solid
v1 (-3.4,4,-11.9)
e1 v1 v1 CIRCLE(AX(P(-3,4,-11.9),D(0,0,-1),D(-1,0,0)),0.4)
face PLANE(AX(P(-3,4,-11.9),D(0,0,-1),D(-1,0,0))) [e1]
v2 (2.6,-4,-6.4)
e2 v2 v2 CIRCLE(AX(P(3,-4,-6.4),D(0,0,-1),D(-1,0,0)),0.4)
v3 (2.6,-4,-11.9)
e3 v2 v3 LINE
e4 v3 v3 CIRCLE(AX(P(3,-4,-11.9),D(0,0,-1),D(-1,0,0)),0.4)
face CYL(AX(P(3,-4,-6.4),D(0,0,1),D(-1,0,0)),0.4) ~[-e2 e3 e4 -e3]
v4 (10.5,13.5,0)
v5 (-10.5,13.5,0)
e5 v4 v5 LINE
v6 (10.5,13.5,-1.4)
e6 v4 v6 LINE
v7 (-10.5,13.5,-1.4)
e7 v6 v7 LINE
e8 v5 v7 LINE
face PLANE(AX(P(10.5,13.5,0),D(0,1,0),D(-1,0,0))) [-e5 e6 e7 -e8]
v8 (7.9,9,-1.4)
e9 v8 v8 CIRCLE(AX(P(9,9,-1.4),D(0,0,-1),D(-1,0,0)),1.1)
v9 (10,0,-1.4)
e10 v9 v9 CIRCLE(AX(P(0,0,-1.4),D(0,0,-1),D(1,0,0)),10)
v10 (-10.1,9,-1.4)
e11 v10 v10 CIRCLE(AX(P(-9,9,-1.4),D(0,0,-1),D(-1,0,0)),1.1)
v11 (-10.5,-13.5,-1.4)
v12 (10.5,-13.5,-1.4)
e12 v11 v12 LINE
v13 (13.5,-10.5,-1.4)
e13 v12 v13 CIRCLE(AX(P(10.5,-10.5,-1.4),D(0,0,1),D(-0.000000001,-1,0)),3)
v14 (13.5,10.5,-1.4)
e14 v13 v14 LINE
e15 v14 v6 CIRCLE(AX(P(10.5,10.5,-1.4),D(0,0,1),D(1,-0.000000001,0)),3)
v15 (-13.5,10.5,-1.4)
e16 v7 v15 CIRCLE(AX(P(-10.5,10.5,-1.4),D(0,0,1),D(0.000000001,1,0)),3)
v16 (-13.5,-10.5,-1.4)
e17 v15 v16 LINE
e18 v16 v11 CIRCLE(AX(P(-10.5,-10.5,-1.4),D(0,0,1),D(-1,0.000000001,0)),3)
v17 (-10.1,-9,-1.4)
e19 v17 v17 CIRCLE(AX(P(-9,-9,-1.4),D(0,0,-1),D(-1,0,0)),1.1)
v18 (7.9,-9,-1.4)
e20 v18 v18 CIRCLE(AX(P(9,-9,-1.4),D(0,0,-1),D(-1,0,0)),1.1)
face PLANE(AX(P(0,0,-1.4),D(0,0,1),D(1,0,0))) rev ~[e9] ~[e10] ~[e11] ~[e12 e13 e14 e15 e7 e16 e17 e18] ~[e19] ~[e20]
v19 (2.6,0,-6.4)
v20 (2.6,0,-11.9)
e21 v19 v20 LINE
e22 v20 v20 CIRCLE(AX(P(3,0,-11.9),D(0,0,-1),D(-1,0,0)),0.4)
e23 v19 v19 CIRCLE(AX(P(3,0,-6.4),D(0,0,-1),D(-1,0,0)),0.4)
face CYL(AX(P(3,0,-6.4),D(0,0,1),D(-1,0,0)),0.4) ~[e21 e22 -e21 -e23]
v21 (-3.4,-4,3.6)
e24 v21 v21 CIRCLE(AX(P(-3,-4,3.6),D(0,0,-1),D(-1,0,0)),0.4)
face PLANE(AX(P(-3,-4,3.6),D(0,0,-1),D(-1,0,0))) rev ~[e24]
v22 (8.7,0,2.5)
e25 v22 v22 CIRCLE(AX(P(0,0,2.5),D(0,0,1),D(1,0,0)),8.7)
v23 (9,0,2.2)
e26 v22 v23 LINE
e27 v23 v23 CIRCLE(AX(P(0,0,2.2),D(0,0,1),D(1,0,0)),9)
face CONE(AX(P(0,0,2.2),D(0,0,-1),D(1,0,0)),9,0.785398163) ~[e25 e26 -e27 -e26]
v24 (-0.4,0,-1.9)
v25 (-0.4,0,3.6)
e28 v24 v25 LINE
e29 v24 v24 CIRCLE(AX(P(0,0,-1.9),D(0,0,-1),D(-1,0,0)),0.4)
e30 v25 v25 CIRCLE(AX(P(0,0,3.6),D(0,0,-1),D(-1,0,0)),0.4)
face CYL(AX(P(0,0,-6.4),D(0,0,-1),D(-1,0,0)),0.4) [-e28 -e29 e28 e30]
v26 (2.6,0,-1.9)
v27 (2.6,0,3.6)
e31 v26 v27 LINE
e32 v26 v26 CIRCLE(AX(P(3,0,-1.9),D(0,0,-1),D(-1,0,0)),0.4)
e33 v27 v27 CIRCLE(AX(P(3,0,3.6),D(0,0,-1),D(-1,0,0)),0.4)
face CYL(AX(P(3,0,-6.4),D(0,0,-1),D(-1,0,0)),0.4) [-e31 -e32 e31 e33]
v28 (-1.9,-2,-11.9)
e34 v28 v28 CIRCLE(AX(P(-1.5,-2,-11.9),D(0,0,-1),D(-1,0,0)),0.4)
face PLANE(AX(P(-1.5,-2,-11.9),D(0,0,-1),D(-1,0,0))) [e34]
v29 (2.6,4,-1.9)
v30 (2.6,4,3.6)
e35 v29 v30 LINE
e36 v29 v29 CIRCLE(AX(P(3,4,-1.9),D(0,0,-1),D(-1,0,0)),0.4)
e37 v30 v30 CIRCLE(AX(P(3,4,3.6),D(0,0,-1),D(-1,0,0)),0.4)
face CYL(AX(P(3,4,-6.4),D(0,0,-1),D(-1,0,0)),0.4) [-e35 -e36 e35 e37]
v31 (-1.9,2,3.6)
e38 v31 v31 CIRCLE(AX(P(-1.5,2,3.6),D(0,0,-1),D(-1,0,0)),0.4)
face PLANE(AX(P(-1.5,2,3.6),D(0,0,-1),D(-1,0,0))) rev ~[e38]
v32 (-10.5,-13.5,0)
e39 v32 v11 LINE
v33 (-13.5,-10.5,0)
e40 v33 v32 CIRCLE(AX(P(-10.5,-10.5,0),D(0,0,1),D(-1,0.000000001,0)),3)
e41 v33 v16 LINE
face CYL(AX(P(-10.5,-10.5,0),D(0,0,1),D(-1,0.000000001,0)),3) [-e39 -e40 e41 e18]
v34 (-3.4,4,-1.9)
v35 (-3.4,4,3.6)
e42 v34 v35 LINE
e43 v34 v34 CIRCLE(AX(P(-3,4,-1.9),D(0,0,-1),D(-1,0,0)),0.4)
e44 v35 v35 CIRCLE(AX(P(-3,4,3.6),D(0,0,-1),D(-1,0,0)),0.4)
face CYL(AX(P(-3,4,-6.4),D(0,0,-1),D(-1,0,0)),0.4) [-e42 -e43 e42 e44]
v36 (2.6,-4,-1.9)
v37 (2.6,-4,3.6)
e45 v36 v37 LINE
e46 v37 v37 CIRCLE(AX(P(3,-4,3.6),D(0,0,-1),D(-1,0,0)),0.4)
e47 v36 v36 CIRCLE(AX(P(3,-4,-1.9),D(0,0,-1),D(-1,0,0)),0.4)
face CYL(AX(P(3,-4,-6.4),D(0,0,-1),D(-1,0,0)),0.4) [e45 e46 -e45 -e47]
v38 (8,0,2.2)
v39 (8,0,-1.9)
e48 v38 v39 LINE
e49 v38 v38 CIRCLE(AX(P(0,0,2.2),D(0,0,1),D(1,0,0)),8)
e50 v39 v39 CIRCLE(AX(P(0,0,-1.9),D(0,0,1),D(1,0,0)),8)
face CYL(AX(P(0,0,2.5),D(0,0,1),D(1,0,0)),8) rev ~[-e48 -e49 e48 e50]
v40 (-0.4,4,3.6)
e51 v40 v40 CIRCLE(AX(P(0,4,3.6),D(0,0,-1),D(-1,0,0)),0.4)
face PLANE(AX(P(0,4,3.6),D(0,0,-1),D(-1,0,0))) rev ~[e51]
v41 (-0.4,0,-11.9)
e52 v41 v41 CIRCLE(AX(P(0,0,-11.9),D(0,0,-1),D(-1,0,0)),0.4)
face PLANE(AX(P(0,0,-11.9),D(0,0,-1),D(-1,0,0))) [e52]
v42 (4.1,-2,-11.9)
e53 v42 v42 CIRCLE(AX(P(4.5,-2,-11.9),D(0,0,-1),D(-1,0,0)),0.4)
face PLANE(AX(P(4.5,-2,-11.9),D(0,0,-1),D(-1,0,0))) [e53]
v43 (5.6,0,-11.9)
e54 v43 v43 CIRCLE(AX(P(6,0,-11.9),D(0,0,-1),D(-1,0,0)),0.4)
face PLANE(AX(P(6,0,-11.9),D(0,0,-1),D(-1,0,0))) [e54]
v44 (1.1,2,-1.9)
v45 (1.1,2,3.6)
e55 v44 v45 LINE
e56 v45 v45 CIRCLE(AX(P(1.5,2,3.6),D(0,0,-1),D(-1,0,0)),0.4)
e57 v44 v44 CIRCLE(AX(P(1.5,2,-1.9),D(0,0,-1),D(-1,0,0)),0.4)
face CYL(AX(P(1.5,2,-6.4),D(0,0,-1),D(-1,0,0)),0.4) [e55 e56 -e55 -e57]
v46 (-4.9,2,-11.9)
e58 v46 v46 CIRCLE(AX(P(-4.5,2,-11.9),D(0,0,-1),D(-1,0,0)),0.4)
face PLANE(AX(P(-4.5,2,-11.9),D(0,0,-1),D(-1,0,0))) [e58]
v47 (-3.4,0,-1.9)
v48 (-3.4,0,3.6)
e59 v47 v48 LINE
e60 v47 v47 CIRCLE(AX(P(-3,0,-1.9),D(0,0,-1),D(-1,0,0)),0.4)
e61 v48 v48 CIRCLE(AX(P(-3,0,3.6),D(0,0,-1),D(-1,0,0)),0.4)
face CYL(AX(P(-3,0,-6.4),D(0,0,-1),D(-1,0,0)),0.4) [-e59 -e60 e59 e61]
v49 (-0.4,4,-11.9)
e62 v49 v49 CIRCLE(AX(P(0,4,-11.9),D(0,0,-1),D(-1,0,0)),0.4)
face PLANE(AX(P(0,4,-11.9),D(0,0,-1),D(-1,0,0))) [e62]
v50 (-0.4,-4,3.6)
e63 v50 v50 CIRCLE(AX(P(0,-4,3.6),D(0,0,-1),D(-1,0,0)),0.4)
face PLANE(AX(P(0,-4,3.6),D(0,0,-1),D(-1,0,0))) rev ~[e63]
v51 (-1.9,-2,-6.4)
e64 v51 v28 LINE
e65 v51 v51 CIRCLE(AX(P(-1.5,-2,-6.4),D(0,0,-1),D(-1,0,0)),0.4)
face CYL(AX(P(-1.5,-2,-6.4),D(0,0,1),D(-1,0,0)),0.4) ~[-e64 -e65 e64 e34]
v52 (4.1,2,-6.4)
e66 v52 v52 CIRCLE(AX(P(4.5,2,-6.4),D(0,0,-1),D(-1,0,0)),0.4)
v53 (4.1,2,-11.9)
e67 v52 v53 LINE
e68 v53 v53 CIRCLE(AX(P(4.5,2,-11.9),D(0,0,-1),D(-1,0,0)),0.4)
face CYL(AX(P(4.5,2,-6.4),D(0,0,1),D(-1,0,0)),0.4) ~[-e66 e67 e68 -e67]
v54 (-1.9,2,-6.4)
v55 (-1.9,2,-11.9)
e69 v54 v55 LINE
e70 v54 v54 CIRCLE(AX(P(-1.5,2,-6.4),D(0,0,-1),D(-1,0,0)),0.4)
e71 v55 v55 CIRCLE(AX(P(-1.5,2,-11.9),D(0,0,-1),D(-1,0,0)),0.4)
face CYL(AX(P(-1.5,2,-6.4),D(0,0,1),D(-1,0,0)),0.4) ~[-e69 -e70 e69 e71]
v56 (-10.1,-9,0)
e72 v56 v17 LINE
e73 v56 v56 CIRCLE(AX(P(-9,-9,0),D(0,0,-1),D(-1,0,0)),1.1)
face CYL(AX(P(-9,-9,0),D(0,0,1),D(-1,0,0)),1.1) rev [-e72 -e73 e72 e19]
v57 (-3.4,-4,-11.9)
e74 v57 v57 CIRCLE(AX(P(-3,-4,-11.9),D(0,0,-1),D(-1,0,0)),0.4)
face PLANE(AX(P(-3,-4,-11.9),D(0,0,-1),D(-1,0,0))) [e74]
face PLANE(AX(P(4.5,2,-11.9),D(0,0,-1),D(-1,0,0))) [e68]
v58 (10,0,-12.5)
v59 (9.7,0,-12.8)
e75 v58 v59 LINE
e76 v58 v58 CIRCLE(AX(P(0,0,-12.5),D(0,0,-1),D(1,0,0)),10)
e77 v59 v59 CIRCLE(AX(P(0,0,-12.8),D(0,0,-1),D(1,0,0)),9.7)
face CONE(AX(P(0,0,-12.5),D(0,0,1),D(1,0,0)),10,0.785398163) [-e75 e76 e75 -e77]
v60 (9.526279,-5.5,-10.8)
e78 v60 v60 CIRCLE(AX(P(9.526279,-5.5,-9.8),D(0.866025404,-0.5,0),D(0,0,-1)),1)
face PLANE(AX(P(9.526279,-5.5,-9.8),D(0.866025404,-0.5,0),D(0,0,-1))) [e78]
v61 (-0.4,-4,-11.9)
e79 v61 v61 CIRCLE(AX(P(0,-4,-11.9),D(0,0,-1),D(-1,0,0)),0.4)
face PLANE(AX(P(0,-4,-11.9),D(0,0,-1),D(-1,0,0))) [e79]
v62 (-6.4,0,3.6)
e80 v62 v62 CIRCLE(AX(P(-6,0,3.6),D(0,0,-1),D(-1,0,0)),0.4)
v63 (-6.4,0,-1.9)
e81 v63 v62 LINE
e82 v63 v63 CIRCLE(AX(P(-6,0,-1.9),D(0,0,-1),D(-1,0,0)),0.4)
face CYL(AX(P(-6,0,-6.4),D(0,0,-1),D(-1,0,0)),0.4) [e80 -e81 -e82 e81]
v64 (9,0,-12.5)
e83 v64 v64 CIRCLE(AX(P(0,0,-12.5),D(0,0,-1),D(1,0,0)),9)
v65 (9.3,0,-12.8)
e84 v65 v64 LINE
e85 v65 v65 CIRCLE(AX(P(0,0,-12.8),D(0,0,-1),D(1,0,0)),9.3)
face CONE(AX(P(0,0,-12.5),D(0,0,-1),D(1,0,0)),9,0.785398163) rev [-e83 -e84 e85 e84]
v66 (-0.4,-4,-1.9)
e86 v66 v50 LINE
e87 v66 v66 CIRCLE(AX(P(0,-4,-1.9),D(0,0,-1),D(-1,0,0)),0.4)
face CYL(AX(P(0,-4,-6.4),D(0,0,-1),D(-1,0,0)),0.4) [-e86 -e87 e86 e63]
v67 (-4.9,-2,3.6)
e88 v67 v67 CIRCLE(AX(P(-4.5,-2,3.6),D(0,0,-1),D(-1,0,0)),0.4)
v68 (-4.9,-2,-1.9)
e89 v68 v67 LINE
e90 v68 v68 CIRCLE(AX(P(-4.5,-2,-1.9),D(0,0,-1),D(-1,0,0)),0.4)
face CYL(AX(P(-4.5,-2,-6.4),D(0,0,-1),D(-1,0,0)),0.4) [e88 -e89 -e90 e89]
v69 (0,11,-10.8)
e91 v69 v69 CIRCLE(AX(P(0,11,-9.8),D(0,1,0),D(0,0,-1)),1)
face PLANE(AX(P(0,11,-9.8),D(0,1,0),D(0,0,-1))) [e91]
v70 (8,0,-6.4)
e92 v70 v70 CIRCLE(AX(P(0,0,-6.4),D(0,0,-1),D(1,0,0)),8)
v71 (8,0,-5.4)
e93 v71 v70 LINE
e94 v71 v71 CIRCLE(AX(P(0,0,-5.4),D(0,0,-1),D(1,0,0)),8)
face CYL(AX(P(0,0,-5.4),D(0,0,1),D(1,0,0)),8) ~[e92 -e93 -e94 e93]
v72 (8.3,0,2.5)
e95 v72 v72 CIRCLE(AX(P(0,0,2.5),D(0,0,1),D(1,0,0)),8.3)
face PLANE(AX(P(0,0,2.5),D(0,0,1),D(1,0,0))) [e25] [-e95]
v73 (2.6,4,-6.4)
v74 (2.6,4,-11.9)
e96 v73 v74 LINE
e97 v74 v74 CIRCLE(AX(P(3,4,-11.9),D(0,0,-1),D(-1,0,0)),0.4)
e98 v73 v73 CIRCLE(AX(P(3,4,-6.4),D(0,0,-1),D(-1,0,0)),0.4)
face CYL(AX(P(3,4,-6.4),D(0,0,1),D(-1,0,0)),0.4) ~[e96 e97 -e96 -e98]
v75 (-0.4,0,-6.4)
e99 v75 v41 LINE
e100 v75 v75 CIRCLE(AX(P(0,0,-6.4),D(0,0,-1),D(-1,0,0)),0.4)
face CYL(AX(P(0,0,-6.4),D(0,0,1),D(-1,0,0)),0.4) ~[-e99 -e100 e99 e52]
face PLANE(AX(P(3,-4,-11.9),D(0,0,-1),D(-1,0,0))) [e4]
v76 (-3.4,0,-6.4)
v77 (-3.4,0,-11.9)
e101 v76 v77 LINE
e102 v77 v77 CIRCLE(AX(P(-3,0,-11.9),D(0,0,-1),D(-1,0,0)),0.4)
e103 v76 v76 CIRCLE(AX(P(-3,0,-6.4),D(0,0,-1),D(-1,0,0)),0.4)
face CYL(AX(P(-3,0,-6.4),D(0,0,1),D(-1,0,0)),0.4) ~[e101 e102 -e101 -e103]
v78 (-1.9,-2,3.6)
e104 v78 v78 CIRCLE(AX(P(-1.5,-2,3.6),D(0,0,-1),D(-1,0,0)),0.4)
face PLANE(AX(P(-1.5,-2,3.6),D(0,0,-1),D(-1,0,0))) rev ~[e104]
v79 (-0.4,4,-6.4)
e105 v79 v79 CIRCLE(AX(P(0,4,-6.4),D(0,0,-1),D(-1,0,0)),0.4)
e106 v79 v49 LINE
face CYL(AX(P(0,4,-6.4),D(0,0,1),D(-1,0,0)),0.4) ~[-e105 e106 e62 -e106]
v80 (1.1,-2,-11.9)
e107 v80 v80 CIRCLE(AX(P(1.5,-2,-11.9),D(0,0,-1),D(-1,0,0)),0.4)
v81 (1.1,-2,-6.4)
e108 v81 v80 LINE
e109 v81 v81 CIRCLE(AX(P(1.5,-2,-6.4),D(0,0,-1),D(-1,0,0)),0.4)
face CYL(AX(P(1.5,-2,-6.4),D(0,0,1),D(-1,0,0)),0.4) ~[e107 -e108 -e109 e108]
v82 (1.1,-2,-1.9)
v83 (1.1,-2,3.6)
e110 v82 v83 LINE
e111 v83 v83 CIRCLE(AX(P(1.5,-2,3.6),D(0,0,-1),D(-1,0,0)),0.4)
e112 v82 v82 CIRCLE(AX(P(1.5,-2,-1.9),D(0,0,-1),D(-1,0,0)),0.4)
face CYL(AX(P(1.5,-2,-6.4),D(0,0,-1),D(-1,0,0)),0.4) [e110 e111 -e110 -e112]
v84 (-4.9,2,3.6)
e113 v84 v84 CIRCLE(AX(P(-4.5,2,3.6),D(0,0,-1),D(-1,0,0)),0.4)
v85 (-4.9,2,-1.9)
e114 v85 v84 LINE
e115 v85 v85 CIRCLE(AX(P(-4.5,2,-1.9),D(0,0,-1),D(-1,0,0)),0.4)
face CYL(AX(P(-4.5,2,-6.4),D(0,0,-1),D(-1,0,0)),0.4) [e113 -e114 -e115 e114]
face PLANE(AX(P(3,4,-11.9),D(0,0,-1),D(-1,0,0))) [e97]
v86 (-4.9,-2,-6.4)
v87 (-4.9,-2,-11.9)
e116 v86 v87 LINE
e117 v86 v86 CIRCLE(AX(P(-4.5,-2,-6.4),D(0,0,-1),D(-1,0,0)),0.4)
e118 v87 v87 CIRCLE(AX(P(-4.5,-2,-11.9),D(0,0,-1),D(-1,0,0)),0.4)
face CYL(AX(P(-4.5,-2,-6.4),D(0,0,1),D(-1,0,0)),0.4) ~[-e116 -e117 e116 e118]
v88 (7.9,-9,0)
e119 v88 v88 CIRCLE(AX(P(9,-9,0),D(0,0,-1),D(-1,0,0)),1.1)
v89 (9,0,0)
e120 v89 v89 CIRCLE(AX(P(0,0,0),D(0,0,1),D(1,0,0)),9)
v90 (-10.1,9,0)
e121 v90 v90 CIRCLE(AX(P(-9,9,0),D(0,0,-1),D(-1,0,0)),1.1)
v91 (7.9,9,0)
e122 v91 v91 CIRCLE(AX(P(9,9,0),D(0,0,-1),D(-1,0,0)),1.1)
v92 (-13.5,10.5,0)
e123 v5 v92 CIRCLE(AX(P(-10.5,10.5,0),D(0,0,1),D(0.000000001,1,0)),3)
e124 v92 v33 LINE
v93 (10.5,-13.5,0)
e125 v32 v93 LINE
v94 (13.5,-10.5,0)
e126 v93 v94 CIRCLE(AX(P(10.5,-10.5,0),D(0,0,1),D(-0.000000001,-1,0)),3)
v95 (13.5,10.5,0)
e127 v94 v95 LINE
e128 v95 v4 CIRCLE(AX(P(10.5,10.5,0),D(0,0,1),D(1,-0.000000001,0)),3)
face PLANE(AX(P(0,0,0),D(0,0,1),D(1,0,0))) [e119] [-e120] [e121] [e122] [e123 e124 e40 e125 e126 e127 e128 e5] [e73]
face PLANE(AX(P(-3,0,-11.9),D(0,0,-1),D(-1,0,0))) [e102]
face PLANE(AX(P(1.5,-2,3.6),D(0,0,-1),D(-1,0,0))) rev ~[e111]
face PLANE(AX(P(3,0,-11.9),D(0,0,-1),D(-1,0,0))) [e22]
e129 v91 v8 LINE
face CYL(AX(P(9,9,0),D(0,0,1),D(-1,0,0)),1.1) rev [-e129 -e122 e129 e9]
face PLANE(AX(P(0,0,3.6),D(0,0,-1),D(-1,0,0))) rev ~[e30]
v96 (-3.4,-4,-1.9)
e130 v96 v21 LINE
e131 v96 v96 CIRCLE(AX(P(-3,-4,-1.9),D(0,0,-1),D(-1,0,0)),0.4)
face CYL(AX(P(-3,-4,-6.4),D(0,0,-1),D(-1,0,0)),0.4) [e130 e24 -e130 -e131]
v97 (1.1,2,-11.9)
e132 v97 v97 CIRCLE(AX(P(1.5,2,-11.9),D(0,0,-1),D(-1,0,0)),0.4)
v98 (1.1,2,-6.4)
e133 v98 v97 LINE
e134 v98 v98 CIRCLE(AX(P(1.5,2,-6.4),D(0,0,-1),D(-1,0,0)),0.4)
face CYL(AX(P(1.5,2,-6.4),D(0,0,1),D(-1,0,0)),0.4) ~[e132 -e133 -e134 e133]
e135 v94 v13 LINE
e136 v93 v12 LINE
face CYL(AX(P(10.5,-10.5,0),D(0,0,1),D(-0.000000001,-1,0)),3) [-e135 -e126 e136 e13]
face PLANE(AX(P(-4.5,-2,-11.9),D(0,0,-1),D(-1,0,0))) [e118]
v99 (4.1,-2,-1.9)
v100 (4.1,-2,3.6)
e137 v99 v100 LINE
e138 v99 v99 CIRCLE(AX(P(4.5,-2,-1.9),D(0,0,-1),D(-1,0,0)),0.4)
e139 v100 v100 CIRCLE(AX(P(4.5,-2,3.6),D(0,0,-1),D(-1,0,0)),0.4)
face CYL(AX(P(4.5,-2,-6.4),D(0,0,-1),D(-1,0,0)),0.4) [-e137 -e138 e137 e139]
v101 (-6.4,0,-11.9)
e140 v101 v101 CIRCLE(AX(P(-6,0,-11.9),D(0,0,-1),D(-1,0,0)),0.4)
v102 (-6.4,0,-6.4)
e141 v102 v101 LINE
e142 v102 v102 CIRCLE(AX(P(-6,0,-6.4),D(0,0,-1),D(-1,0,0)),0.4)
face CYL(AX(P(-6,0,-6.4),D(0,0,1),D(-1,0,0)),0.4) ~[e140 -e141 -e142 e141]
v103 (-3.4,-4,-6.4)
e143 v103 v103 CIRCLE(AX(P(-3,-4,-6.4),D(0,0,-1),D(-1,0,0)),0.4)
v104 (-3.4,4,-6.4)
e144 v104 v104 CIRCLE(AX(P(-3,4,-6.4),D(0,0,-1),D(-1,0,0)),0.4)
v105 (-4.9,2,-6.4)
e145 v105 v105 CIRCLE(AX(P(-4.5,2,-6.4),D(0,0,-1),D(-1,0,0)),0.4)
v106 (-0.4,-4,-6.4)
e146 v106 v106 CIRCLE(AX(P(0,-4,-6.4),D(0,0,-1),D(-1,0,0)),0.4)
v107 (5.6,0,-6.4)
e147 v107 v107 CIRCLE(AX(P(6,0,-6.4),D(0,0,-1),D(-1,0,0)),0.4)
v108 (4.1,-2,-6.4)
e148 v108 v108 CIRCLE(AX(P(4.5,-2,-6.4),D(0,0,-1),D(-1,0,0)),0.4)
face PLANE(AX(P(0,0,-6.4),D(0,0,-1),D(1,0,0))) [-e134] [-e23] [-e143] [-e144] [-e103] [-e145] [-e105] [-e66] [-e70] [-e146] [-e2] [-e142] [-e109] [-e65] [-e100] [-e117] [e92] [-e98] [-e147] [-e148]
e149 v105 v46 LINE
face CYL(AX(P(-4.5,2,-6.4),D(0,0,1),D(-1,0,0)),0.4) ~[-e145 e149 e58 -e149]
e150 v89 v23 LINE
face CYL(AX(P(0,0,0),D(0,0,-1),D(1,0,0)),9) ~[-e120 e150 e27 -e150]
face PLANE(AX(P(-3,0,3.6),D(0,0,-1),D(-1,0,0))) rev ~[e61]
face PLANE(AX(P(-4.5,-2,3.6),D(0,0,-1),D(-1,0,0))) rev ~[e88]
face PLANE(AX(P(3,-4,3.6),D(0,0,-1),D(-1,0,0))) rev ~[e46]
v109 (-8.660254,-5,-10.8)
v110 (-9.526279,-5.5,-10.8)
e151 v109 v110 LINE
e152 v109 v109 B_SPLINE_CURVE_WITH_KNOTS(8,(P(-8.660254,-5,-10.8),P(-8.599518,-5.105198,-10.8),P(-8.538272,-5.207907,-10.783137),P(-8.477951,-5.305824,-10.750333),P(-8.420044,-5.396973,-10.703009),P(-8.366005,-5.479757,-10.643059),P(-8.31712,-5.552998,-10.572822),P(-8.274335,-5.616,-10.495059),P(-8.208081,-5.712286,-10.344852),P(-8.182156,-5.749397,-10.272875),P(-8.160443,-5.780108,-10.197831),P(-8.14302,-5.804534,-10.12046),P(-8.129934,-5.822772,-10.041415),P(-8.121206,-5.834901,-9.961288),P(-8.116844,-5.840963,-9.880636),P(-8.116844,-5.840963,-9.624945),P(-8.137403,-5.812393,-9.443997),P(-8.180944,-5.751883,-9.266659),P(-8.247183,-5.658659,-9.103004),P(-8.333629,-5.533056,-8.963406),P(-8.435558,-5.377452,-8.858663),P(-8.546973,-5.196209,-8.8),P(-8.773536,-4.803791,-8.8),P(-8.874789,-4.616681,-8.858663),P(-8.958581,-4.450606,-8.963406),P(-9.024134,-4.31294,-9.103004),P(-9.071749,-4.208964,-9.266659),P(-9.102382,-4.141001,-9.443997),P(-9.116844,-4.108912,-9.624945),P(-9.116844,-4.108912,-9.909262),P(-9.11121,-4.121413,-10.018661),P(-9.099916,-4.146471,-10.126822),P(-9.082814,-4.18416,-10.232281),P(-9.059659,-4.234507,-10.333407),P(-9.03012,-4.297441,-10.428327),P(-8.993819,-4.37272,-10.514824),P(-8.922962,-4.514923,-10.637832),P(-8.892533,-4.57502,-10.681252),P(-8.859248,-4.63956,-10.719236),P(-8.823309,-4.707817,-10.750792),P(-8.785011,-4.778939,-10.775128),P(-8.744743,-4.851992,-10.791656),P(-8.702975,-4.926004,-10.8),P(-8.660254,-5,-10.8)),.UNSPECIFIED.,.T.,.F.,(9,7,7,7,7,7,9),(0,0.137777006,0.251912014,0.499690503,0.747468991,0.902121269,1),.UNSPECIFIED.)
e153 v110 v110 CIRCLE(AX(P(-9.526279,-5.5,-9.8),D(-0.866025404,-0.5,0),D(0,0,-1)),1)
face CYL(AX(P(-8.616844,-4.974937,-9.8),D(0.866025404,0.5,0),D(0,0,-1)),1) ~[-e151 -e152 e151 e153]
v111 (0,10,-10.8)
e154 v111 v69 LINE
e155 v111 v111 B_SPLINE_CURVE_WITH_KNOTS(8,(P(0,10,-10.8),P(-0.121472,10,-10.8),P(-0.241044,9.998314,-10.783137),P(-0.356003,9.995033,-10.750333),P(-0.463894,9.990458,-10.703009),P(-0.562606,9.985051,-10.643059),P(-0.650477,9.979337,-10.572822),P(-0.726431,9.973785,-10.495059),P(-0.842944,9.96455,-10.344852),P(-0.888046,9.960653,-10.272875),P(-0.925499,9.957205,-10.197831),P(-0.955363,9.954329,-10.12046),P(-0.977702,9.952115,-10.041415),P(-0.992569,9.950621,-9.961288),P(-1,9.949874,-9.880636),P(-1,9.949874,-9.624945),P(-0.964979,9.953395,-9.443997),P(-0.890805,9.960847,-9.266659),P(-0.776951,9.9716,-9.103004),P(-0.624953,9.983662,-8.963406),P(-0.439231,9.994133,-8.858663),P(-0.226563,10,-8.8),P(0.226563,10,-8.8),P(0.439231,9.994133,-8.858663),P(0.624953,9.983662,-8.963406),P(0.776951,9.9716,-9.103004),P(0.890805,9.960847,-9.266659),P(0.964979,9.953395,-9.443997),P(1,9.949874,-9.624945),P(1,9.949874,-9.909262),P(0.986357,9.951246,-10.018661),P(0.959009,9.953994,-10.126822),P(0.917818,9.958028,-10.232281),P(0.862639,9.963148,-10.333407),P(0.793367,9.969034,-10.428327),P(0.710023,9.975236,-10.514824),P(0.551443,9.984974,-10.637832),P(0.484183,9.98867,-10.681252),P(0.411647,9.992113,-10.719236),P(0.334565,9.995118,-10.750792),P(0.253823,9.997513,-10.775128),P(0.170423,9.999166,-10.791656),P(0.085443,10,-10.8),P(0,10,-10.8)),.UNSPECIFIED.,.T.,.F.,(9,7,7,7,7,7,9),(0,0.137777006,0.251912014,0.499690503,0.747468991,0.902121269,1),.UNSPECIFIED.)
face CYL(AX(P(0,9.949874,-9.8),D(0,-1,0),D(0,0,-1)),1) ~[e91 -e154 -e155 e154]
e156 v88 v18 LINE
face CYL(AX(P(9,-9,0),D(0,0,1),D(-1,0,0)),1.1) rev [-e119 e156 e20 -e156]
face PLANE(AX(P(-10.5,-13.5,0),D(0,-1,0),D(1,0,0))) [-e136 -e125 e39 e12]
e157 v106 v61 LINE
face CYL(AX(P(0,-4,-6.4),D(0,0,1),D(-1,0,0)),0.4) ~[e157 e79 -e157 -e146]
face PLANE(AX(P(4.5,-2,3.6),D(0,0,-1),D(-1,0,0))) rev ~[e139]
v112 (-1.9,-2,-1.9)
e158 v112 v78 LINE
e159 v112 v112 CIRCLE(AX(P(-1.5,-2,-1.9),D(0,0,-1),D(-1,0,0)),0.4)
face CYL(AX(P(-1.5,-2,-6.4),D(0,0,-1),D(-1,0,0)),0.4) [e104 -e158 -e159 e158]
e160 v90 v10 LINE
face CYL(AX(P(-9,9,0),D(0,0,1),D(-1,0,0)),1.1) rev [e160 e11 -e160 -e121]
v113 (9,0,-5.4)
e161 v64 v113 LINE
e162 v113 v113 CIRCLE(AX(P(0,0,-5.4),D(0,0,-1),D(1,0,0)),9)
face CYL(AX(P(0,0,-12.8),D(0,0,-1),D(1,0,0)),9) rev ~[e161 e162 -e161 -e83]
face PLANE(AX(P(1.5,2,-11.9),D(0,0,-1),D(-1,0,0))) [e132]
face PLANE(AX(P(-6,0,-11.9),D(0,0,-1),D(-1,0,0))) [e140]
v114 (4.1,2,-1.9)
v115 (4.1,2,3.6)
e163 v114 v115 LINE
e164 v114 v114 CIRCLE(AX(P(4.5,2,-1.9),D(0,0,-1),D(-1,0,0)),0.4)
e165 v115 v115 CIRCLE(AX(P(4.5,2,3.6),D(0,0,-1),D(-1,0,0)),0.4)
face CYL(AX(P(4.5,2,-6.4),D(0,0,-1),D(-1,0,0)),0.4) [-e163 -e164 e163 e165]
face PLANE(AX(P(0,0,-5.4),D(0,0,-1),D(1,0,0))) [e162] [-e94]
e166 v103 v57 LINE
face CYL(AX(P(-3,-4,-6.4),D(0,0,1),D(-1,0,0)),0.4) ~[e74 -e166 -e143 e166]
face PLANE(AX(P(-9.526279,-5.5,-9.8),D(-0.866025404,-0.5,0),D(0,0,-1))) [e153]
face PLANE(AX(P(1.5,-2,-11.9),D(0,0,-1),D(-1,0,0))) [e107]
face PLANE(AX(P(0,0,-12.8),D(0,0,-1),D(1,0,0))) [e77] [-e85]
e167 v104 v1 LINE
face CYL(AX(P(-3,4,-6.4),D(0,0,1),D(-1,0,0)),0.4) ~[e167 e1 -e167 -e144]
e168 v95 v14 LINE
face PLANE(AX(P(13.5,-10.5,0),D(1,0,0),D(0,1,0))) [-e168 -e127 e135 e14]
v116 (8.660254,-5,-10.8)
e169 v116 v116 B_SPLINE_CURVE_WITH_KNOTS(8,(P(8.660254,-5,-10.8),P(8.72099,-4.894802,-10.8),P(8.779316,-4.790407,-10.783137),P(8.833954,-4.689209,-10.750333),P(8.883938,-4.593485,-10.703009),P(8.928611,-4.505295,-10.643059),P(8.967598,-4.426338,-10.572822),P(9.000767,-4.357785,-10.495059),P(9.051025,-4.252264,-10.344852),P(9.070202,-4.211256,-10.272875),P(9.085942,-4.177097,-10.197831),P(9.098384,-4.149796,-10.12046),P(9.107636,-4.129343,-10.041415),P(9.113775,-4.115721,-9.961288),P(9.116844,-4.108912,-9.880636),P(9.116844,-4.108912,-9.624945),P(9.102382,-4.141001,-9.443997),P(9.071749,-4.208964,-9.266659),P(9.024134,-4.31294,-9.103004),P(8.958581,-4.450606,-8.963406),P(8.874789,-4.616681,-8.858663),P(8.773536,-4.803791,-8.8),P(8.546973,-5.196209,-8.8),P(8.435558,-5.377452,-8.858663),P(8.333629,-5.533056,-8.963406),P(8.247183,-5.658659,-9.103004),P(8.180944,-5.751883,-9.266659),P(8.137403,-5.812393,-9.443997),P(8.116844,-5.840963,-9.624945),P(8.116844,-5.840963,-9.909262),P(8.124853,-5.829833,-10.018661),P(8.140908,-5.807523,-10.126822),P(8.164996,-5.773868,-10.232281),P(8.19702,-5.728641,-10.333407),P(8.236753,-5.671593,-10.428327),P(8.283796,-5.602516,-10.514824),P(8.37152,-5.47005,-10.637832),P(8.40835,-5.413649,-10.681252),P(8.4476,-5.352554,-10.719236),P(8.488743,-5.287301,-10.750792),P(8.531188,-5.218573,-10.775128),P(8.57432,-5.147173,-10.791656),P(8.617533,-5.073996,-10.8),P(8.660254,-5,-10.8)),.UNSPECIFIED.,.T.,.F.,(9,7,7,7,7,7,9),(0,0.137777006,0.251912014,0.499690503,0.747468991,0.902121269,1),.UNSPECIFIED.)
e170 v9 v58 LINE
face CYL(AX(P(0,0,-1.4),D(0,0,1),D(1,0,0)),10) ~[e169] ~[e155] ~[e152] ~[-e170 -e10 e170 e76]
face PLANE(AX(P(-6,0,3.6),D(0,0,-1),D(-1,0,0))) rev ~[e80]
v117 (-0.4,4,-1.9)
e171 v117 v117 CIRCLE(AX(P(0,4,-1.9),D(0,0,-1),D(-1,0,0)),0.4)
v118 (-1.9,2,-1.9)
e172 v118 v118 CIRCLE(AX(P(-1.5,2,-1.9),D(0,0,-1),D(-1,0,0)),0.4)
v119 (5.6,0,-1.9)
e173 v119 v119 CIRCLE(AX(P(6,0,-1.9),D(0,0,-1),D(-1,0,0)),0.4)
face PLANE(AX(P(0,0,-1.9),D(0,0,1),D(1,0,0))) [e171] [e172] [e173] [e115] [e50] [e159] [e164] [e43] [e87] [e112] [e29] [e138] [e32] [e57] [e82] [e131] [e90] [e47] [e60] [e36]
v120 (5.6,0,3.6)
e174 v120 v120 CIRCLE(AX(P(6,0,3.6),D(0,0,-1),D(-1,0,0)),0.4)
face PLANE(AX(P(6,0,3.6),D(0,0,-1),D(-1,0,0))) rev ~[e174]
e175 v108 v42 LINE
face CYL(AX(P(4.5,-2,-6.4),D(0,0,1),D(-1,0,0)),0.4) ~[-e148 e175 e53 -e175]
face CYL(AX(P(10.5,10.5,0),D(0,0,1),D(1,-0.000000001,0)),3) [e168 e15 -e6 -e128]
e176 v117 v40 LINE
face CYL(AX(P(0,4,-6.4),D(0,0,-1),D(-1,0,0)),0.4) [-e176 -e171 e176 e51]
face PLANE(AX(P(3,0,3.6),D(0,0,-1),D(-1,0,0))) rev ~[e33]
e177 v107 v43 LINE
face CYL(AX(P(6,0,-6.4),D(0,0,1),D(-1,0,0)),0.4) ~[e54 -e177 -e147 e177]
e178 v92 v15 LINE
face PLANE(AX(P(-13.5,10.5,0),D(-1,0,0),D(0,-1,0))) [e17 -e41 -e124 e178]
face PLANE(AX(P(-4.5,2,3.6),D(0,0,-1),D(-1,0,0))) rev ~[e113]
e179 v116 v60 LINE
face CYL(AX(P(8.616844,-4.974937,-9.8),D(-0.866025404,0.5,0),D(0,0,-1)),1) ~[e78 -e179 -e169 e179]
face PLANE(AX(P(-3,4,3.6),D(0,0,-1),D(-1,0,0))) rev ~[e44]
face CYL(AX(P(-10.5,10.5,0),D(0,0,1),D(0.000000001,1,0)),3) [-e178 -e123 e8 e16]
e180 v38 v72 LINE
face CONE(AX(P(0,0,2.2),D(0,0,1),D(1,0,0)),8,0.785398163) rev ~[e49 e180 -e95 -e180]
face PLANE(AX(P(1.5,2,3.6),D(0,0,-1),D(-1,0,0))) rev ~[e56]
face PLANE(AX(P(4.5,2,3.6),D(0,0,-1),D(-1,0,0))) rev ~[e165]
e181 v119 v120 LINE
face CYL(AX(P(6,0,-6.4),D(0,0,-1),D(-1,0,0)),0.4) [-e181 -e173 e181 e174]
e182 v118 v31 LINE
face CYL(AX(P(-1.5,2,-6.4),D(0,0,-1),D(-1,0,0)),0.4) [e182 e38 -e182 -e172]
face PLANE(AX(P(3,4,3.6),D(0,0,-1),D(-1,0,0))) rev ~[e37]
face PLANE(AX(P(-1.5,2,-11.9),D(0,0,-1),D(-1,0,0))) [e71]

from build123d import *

# Parameters (mm, degrees)
SKETCH_1_R               = 9
EXTRUDE_1_DEPTH          = 2.5
SKETCH_2_R               = 1.1
EXTRUDE_2_DEPTH          = 1.4
SKETCH_3_R               = 10
EXTRUDE_3_DEPTH          = 11.4
SKETCH_4_R               = 8
CUT_EXTRUDE_1_DEPTH      = 4.4
SKETCH_5_R               = 9
CUT_EXTRUDE_2_DEPTH      = 7.4
SKETCH_6_R               = 8
EXTRUDE_4_DEPTH          = 1
SKETCH_7_R               = 0.4
EXTRUDE_5_DEPTH          = 5.5
EXTRUDE_5_DEPTH_BACK     = 10
CHAMFER_1_SIZE           = 0.3
EXTRUDE_START            = 9.949874
SKETCH_8_R               = 1
EXTRUDE_6_DEPTH          = 1.050126
PATTERN_CIRCULAR_1_COUNT = 3


with BuildPart() as part:
    # Эскиз1 → Бобышка-Вытянуть1 (new body)
    with BuildSketch(Plane.XY):
        Circle(SKETCH_1_R)
    extrude(amount=EXTRUDE_1_DEPTH)

    # Эскиз2 → Бобышка-Вытянуть2 (add)
    with BuildSketch(Plane(origin=(0, 0, 0), x_dir=(-1, 0, 0), z_dir=(0, 0, -1))):
        with BuildLine():
            Line((10.5, -13.5), (-10.5, -13.5))
            ThreePointArc((-10.5, -13.5), (-12.621320344, -12.621320344), (-13.5, -10.5))
            Line((-13.5, -10.5), (-13.5, 10.5))
            ThreePointArc((-13.5, 10.5), (-12.621320344, 12.621320344), (-10.5, 13.5))
            Line((-10.5, 13.5), (10.5, 13.5))
            ThreePointArc((10.5, 13.5), (12.621320344, 12.621320344), (13.5, 10.5))
            Line((13.5, 10.5), (13.5, -10.5))
            ThreePointArc((13.5, -10.5), (12.621320344, -12.621320344), (10.5, -13.5))
        make_face()
        with Locations((9, 9)):
            Circle(SKETCH_2_R, mode=Mode.SUBTRACT)
        with Locations((-9, 9)):
            Circle(SKETCH_2_R, mode=Mode.SUBTRACT)
        with Locations((9, -9)):
            Circle(SKETCH_2_R, mode=Mode.SUBTRACT)
        with Locations((-9, -9)):
            Circle(SKETCH_2_R, mode=Mode.SUBTRACT)
    extrude(amount=EXTRUDE_2_DEPTH)

    # Эскиз3 → Бобышка-Вытянуть3 (add)
    with BuildSketch(Plane(origin=(0, 0, -1.4), x_dir=(-1, 0, 0), z_dir=(0, 0, -1))):
        with Locations(Location((0, 0, 0), (0, 0, 180))):
            Circle(SKETCH_3_R)
    extrude(amount=EXTRUDE_3_DEPTH)

    # Эскиз4 → Вырез-Вытянуть1 (cut)
    with BuildSketch(Plane.XY.offset(2.5)):
        Circle(SKETCH_4_R)
    extrude(amount=-CUT_EXTRUDE_1_DEPTH, mode=Mode.SUBTRACT)

    # Эскиз5 → Вырез-Вытянуть2 (cut)
    with BuildSketch(Plane(origin=(0, 0, -12.8), x_dir=(-1, 0, 0), z_dir=(0, 0, -1))):
        with Locations(Location((0, 0, 0), (0, 0, 180))):
            Circle(SKETCH_5_R)
    extrude(amount=-CUT_EXTRUDE_2_DEPTH, mode=Mode.SUBTRACT)

    # Эскиз6 → Бобышка-Вытянуть4 (add)
    with BuildSketch(Plane(origin=(0, 0, -5.4), x_dir=(-1, 0, 0), z_dir=(0, 0, -1))):
        with Locations(Location((0, 0, 0), (0, 0, 180))):
            Circle(SKETCH_6_R)
    extrude(amount=EXTRUDE_4_DEPTH)

    # Эскиз7 → Бобышка-Вытянуть5 (add, two sides)
    with BuildSketch(Plane(origin=(0, 0, -6.4), x_dir=(-1, 0, 0), z_dir=(0, 0, -1))) as extrude_5_sk:
        Circle(SKETCH_7_R)
        with Locations((3, 0)):
            Circle(SKETCH_7_R)
        with Locations((6, 0)):
            Circle(SKETCH_7_R)
        with Locations((4.5, 2)):
            Circle(SKETCH_7_R)
        with Locations((-3, 0)):
            Circle(SKETCH_7_R)
        with Locations((-6, 0)):
            Circle(SKETCH_7_R)
        with Locations((-4.5, 2)):
            Circle(SKETCH_7_R)
        with Locations((-1.5, 2)):
            Circle(SKETCH_7_R)
        with Locations((1.5, 2)):
            Circle(SKETCH_7_R)
        with Locations((-3, 4)):
            Circle(SKETCH_7_R)
        with Locations((3, 4)):
            Circle(SKETCH_7_R)
        with Locations((0, 4)):
            Circle(SKETCH_7_R)
        with Locations((0, -4)):
            Circle(SKETCH_7_R)
        with Locations((3, -4)):
            Circle(SKETCH_7_R)
        with Locations((-3, -4)):
            Circle(SKETCH_7_R)
        with Locations((1.5, -2)):
            Circle(SKETCH_7_R)
        with Locations((-1.5, -2)):
            Circle(SKETCH_7_R)
        with Locations((-4.5, -2)):
            Circle(SKETCH_7_R)
        with Locations((4.5, -2)):
            Circle(SKETCH_7_R)
    extrude(amount=EXTRUDE_5_DEPTH)
    extrude(extrude_5_sk.sketch, amount=-EXTRUDE_5_DEPTH_BACK)

    # Фаска1
    chamfer_1_edges = [part.edges().sort_by_distance(p)[0] for p in [
        (-10, 0, -12.8),
        (-8, 0, 2.5),
        (-9, 0, 2.5),
        (-9, 0, -12.8),
    ]]
    chamfer(chamfer_1_edges, length=CHAMFER_1_SIZE)

    # Эскиз8 → Бобышка-Вытянуть6 (add)
    with BuildSketch(Plane(origin=(0, 0, 0), x_dir=(1, 0, 0), z_dir=(0, 1, 0)).offset(EXTRUDE_START)):
        with Locations(Location((0, 9.8, 0), (0, 0, 90))):
            Circle(SKETCH_8_R)
    extrude_6 = extrude(amount=EXTRUDE_6_DEPTH)

    # Круговой массив1: Бобышка-Вытянуть6 ×3 about axis
    pattern_circular_1_axis = Axis((0, 0, 0), (0, 0, 1))
    for i in range(1, PATTERN_CIRCULAR_1_COUNT):
        add(extrude_6.rotate(pattern_circular_1_axis, i * 360 / PATTERN_CIRCULAR_1_COUNT))


solid = part.part
